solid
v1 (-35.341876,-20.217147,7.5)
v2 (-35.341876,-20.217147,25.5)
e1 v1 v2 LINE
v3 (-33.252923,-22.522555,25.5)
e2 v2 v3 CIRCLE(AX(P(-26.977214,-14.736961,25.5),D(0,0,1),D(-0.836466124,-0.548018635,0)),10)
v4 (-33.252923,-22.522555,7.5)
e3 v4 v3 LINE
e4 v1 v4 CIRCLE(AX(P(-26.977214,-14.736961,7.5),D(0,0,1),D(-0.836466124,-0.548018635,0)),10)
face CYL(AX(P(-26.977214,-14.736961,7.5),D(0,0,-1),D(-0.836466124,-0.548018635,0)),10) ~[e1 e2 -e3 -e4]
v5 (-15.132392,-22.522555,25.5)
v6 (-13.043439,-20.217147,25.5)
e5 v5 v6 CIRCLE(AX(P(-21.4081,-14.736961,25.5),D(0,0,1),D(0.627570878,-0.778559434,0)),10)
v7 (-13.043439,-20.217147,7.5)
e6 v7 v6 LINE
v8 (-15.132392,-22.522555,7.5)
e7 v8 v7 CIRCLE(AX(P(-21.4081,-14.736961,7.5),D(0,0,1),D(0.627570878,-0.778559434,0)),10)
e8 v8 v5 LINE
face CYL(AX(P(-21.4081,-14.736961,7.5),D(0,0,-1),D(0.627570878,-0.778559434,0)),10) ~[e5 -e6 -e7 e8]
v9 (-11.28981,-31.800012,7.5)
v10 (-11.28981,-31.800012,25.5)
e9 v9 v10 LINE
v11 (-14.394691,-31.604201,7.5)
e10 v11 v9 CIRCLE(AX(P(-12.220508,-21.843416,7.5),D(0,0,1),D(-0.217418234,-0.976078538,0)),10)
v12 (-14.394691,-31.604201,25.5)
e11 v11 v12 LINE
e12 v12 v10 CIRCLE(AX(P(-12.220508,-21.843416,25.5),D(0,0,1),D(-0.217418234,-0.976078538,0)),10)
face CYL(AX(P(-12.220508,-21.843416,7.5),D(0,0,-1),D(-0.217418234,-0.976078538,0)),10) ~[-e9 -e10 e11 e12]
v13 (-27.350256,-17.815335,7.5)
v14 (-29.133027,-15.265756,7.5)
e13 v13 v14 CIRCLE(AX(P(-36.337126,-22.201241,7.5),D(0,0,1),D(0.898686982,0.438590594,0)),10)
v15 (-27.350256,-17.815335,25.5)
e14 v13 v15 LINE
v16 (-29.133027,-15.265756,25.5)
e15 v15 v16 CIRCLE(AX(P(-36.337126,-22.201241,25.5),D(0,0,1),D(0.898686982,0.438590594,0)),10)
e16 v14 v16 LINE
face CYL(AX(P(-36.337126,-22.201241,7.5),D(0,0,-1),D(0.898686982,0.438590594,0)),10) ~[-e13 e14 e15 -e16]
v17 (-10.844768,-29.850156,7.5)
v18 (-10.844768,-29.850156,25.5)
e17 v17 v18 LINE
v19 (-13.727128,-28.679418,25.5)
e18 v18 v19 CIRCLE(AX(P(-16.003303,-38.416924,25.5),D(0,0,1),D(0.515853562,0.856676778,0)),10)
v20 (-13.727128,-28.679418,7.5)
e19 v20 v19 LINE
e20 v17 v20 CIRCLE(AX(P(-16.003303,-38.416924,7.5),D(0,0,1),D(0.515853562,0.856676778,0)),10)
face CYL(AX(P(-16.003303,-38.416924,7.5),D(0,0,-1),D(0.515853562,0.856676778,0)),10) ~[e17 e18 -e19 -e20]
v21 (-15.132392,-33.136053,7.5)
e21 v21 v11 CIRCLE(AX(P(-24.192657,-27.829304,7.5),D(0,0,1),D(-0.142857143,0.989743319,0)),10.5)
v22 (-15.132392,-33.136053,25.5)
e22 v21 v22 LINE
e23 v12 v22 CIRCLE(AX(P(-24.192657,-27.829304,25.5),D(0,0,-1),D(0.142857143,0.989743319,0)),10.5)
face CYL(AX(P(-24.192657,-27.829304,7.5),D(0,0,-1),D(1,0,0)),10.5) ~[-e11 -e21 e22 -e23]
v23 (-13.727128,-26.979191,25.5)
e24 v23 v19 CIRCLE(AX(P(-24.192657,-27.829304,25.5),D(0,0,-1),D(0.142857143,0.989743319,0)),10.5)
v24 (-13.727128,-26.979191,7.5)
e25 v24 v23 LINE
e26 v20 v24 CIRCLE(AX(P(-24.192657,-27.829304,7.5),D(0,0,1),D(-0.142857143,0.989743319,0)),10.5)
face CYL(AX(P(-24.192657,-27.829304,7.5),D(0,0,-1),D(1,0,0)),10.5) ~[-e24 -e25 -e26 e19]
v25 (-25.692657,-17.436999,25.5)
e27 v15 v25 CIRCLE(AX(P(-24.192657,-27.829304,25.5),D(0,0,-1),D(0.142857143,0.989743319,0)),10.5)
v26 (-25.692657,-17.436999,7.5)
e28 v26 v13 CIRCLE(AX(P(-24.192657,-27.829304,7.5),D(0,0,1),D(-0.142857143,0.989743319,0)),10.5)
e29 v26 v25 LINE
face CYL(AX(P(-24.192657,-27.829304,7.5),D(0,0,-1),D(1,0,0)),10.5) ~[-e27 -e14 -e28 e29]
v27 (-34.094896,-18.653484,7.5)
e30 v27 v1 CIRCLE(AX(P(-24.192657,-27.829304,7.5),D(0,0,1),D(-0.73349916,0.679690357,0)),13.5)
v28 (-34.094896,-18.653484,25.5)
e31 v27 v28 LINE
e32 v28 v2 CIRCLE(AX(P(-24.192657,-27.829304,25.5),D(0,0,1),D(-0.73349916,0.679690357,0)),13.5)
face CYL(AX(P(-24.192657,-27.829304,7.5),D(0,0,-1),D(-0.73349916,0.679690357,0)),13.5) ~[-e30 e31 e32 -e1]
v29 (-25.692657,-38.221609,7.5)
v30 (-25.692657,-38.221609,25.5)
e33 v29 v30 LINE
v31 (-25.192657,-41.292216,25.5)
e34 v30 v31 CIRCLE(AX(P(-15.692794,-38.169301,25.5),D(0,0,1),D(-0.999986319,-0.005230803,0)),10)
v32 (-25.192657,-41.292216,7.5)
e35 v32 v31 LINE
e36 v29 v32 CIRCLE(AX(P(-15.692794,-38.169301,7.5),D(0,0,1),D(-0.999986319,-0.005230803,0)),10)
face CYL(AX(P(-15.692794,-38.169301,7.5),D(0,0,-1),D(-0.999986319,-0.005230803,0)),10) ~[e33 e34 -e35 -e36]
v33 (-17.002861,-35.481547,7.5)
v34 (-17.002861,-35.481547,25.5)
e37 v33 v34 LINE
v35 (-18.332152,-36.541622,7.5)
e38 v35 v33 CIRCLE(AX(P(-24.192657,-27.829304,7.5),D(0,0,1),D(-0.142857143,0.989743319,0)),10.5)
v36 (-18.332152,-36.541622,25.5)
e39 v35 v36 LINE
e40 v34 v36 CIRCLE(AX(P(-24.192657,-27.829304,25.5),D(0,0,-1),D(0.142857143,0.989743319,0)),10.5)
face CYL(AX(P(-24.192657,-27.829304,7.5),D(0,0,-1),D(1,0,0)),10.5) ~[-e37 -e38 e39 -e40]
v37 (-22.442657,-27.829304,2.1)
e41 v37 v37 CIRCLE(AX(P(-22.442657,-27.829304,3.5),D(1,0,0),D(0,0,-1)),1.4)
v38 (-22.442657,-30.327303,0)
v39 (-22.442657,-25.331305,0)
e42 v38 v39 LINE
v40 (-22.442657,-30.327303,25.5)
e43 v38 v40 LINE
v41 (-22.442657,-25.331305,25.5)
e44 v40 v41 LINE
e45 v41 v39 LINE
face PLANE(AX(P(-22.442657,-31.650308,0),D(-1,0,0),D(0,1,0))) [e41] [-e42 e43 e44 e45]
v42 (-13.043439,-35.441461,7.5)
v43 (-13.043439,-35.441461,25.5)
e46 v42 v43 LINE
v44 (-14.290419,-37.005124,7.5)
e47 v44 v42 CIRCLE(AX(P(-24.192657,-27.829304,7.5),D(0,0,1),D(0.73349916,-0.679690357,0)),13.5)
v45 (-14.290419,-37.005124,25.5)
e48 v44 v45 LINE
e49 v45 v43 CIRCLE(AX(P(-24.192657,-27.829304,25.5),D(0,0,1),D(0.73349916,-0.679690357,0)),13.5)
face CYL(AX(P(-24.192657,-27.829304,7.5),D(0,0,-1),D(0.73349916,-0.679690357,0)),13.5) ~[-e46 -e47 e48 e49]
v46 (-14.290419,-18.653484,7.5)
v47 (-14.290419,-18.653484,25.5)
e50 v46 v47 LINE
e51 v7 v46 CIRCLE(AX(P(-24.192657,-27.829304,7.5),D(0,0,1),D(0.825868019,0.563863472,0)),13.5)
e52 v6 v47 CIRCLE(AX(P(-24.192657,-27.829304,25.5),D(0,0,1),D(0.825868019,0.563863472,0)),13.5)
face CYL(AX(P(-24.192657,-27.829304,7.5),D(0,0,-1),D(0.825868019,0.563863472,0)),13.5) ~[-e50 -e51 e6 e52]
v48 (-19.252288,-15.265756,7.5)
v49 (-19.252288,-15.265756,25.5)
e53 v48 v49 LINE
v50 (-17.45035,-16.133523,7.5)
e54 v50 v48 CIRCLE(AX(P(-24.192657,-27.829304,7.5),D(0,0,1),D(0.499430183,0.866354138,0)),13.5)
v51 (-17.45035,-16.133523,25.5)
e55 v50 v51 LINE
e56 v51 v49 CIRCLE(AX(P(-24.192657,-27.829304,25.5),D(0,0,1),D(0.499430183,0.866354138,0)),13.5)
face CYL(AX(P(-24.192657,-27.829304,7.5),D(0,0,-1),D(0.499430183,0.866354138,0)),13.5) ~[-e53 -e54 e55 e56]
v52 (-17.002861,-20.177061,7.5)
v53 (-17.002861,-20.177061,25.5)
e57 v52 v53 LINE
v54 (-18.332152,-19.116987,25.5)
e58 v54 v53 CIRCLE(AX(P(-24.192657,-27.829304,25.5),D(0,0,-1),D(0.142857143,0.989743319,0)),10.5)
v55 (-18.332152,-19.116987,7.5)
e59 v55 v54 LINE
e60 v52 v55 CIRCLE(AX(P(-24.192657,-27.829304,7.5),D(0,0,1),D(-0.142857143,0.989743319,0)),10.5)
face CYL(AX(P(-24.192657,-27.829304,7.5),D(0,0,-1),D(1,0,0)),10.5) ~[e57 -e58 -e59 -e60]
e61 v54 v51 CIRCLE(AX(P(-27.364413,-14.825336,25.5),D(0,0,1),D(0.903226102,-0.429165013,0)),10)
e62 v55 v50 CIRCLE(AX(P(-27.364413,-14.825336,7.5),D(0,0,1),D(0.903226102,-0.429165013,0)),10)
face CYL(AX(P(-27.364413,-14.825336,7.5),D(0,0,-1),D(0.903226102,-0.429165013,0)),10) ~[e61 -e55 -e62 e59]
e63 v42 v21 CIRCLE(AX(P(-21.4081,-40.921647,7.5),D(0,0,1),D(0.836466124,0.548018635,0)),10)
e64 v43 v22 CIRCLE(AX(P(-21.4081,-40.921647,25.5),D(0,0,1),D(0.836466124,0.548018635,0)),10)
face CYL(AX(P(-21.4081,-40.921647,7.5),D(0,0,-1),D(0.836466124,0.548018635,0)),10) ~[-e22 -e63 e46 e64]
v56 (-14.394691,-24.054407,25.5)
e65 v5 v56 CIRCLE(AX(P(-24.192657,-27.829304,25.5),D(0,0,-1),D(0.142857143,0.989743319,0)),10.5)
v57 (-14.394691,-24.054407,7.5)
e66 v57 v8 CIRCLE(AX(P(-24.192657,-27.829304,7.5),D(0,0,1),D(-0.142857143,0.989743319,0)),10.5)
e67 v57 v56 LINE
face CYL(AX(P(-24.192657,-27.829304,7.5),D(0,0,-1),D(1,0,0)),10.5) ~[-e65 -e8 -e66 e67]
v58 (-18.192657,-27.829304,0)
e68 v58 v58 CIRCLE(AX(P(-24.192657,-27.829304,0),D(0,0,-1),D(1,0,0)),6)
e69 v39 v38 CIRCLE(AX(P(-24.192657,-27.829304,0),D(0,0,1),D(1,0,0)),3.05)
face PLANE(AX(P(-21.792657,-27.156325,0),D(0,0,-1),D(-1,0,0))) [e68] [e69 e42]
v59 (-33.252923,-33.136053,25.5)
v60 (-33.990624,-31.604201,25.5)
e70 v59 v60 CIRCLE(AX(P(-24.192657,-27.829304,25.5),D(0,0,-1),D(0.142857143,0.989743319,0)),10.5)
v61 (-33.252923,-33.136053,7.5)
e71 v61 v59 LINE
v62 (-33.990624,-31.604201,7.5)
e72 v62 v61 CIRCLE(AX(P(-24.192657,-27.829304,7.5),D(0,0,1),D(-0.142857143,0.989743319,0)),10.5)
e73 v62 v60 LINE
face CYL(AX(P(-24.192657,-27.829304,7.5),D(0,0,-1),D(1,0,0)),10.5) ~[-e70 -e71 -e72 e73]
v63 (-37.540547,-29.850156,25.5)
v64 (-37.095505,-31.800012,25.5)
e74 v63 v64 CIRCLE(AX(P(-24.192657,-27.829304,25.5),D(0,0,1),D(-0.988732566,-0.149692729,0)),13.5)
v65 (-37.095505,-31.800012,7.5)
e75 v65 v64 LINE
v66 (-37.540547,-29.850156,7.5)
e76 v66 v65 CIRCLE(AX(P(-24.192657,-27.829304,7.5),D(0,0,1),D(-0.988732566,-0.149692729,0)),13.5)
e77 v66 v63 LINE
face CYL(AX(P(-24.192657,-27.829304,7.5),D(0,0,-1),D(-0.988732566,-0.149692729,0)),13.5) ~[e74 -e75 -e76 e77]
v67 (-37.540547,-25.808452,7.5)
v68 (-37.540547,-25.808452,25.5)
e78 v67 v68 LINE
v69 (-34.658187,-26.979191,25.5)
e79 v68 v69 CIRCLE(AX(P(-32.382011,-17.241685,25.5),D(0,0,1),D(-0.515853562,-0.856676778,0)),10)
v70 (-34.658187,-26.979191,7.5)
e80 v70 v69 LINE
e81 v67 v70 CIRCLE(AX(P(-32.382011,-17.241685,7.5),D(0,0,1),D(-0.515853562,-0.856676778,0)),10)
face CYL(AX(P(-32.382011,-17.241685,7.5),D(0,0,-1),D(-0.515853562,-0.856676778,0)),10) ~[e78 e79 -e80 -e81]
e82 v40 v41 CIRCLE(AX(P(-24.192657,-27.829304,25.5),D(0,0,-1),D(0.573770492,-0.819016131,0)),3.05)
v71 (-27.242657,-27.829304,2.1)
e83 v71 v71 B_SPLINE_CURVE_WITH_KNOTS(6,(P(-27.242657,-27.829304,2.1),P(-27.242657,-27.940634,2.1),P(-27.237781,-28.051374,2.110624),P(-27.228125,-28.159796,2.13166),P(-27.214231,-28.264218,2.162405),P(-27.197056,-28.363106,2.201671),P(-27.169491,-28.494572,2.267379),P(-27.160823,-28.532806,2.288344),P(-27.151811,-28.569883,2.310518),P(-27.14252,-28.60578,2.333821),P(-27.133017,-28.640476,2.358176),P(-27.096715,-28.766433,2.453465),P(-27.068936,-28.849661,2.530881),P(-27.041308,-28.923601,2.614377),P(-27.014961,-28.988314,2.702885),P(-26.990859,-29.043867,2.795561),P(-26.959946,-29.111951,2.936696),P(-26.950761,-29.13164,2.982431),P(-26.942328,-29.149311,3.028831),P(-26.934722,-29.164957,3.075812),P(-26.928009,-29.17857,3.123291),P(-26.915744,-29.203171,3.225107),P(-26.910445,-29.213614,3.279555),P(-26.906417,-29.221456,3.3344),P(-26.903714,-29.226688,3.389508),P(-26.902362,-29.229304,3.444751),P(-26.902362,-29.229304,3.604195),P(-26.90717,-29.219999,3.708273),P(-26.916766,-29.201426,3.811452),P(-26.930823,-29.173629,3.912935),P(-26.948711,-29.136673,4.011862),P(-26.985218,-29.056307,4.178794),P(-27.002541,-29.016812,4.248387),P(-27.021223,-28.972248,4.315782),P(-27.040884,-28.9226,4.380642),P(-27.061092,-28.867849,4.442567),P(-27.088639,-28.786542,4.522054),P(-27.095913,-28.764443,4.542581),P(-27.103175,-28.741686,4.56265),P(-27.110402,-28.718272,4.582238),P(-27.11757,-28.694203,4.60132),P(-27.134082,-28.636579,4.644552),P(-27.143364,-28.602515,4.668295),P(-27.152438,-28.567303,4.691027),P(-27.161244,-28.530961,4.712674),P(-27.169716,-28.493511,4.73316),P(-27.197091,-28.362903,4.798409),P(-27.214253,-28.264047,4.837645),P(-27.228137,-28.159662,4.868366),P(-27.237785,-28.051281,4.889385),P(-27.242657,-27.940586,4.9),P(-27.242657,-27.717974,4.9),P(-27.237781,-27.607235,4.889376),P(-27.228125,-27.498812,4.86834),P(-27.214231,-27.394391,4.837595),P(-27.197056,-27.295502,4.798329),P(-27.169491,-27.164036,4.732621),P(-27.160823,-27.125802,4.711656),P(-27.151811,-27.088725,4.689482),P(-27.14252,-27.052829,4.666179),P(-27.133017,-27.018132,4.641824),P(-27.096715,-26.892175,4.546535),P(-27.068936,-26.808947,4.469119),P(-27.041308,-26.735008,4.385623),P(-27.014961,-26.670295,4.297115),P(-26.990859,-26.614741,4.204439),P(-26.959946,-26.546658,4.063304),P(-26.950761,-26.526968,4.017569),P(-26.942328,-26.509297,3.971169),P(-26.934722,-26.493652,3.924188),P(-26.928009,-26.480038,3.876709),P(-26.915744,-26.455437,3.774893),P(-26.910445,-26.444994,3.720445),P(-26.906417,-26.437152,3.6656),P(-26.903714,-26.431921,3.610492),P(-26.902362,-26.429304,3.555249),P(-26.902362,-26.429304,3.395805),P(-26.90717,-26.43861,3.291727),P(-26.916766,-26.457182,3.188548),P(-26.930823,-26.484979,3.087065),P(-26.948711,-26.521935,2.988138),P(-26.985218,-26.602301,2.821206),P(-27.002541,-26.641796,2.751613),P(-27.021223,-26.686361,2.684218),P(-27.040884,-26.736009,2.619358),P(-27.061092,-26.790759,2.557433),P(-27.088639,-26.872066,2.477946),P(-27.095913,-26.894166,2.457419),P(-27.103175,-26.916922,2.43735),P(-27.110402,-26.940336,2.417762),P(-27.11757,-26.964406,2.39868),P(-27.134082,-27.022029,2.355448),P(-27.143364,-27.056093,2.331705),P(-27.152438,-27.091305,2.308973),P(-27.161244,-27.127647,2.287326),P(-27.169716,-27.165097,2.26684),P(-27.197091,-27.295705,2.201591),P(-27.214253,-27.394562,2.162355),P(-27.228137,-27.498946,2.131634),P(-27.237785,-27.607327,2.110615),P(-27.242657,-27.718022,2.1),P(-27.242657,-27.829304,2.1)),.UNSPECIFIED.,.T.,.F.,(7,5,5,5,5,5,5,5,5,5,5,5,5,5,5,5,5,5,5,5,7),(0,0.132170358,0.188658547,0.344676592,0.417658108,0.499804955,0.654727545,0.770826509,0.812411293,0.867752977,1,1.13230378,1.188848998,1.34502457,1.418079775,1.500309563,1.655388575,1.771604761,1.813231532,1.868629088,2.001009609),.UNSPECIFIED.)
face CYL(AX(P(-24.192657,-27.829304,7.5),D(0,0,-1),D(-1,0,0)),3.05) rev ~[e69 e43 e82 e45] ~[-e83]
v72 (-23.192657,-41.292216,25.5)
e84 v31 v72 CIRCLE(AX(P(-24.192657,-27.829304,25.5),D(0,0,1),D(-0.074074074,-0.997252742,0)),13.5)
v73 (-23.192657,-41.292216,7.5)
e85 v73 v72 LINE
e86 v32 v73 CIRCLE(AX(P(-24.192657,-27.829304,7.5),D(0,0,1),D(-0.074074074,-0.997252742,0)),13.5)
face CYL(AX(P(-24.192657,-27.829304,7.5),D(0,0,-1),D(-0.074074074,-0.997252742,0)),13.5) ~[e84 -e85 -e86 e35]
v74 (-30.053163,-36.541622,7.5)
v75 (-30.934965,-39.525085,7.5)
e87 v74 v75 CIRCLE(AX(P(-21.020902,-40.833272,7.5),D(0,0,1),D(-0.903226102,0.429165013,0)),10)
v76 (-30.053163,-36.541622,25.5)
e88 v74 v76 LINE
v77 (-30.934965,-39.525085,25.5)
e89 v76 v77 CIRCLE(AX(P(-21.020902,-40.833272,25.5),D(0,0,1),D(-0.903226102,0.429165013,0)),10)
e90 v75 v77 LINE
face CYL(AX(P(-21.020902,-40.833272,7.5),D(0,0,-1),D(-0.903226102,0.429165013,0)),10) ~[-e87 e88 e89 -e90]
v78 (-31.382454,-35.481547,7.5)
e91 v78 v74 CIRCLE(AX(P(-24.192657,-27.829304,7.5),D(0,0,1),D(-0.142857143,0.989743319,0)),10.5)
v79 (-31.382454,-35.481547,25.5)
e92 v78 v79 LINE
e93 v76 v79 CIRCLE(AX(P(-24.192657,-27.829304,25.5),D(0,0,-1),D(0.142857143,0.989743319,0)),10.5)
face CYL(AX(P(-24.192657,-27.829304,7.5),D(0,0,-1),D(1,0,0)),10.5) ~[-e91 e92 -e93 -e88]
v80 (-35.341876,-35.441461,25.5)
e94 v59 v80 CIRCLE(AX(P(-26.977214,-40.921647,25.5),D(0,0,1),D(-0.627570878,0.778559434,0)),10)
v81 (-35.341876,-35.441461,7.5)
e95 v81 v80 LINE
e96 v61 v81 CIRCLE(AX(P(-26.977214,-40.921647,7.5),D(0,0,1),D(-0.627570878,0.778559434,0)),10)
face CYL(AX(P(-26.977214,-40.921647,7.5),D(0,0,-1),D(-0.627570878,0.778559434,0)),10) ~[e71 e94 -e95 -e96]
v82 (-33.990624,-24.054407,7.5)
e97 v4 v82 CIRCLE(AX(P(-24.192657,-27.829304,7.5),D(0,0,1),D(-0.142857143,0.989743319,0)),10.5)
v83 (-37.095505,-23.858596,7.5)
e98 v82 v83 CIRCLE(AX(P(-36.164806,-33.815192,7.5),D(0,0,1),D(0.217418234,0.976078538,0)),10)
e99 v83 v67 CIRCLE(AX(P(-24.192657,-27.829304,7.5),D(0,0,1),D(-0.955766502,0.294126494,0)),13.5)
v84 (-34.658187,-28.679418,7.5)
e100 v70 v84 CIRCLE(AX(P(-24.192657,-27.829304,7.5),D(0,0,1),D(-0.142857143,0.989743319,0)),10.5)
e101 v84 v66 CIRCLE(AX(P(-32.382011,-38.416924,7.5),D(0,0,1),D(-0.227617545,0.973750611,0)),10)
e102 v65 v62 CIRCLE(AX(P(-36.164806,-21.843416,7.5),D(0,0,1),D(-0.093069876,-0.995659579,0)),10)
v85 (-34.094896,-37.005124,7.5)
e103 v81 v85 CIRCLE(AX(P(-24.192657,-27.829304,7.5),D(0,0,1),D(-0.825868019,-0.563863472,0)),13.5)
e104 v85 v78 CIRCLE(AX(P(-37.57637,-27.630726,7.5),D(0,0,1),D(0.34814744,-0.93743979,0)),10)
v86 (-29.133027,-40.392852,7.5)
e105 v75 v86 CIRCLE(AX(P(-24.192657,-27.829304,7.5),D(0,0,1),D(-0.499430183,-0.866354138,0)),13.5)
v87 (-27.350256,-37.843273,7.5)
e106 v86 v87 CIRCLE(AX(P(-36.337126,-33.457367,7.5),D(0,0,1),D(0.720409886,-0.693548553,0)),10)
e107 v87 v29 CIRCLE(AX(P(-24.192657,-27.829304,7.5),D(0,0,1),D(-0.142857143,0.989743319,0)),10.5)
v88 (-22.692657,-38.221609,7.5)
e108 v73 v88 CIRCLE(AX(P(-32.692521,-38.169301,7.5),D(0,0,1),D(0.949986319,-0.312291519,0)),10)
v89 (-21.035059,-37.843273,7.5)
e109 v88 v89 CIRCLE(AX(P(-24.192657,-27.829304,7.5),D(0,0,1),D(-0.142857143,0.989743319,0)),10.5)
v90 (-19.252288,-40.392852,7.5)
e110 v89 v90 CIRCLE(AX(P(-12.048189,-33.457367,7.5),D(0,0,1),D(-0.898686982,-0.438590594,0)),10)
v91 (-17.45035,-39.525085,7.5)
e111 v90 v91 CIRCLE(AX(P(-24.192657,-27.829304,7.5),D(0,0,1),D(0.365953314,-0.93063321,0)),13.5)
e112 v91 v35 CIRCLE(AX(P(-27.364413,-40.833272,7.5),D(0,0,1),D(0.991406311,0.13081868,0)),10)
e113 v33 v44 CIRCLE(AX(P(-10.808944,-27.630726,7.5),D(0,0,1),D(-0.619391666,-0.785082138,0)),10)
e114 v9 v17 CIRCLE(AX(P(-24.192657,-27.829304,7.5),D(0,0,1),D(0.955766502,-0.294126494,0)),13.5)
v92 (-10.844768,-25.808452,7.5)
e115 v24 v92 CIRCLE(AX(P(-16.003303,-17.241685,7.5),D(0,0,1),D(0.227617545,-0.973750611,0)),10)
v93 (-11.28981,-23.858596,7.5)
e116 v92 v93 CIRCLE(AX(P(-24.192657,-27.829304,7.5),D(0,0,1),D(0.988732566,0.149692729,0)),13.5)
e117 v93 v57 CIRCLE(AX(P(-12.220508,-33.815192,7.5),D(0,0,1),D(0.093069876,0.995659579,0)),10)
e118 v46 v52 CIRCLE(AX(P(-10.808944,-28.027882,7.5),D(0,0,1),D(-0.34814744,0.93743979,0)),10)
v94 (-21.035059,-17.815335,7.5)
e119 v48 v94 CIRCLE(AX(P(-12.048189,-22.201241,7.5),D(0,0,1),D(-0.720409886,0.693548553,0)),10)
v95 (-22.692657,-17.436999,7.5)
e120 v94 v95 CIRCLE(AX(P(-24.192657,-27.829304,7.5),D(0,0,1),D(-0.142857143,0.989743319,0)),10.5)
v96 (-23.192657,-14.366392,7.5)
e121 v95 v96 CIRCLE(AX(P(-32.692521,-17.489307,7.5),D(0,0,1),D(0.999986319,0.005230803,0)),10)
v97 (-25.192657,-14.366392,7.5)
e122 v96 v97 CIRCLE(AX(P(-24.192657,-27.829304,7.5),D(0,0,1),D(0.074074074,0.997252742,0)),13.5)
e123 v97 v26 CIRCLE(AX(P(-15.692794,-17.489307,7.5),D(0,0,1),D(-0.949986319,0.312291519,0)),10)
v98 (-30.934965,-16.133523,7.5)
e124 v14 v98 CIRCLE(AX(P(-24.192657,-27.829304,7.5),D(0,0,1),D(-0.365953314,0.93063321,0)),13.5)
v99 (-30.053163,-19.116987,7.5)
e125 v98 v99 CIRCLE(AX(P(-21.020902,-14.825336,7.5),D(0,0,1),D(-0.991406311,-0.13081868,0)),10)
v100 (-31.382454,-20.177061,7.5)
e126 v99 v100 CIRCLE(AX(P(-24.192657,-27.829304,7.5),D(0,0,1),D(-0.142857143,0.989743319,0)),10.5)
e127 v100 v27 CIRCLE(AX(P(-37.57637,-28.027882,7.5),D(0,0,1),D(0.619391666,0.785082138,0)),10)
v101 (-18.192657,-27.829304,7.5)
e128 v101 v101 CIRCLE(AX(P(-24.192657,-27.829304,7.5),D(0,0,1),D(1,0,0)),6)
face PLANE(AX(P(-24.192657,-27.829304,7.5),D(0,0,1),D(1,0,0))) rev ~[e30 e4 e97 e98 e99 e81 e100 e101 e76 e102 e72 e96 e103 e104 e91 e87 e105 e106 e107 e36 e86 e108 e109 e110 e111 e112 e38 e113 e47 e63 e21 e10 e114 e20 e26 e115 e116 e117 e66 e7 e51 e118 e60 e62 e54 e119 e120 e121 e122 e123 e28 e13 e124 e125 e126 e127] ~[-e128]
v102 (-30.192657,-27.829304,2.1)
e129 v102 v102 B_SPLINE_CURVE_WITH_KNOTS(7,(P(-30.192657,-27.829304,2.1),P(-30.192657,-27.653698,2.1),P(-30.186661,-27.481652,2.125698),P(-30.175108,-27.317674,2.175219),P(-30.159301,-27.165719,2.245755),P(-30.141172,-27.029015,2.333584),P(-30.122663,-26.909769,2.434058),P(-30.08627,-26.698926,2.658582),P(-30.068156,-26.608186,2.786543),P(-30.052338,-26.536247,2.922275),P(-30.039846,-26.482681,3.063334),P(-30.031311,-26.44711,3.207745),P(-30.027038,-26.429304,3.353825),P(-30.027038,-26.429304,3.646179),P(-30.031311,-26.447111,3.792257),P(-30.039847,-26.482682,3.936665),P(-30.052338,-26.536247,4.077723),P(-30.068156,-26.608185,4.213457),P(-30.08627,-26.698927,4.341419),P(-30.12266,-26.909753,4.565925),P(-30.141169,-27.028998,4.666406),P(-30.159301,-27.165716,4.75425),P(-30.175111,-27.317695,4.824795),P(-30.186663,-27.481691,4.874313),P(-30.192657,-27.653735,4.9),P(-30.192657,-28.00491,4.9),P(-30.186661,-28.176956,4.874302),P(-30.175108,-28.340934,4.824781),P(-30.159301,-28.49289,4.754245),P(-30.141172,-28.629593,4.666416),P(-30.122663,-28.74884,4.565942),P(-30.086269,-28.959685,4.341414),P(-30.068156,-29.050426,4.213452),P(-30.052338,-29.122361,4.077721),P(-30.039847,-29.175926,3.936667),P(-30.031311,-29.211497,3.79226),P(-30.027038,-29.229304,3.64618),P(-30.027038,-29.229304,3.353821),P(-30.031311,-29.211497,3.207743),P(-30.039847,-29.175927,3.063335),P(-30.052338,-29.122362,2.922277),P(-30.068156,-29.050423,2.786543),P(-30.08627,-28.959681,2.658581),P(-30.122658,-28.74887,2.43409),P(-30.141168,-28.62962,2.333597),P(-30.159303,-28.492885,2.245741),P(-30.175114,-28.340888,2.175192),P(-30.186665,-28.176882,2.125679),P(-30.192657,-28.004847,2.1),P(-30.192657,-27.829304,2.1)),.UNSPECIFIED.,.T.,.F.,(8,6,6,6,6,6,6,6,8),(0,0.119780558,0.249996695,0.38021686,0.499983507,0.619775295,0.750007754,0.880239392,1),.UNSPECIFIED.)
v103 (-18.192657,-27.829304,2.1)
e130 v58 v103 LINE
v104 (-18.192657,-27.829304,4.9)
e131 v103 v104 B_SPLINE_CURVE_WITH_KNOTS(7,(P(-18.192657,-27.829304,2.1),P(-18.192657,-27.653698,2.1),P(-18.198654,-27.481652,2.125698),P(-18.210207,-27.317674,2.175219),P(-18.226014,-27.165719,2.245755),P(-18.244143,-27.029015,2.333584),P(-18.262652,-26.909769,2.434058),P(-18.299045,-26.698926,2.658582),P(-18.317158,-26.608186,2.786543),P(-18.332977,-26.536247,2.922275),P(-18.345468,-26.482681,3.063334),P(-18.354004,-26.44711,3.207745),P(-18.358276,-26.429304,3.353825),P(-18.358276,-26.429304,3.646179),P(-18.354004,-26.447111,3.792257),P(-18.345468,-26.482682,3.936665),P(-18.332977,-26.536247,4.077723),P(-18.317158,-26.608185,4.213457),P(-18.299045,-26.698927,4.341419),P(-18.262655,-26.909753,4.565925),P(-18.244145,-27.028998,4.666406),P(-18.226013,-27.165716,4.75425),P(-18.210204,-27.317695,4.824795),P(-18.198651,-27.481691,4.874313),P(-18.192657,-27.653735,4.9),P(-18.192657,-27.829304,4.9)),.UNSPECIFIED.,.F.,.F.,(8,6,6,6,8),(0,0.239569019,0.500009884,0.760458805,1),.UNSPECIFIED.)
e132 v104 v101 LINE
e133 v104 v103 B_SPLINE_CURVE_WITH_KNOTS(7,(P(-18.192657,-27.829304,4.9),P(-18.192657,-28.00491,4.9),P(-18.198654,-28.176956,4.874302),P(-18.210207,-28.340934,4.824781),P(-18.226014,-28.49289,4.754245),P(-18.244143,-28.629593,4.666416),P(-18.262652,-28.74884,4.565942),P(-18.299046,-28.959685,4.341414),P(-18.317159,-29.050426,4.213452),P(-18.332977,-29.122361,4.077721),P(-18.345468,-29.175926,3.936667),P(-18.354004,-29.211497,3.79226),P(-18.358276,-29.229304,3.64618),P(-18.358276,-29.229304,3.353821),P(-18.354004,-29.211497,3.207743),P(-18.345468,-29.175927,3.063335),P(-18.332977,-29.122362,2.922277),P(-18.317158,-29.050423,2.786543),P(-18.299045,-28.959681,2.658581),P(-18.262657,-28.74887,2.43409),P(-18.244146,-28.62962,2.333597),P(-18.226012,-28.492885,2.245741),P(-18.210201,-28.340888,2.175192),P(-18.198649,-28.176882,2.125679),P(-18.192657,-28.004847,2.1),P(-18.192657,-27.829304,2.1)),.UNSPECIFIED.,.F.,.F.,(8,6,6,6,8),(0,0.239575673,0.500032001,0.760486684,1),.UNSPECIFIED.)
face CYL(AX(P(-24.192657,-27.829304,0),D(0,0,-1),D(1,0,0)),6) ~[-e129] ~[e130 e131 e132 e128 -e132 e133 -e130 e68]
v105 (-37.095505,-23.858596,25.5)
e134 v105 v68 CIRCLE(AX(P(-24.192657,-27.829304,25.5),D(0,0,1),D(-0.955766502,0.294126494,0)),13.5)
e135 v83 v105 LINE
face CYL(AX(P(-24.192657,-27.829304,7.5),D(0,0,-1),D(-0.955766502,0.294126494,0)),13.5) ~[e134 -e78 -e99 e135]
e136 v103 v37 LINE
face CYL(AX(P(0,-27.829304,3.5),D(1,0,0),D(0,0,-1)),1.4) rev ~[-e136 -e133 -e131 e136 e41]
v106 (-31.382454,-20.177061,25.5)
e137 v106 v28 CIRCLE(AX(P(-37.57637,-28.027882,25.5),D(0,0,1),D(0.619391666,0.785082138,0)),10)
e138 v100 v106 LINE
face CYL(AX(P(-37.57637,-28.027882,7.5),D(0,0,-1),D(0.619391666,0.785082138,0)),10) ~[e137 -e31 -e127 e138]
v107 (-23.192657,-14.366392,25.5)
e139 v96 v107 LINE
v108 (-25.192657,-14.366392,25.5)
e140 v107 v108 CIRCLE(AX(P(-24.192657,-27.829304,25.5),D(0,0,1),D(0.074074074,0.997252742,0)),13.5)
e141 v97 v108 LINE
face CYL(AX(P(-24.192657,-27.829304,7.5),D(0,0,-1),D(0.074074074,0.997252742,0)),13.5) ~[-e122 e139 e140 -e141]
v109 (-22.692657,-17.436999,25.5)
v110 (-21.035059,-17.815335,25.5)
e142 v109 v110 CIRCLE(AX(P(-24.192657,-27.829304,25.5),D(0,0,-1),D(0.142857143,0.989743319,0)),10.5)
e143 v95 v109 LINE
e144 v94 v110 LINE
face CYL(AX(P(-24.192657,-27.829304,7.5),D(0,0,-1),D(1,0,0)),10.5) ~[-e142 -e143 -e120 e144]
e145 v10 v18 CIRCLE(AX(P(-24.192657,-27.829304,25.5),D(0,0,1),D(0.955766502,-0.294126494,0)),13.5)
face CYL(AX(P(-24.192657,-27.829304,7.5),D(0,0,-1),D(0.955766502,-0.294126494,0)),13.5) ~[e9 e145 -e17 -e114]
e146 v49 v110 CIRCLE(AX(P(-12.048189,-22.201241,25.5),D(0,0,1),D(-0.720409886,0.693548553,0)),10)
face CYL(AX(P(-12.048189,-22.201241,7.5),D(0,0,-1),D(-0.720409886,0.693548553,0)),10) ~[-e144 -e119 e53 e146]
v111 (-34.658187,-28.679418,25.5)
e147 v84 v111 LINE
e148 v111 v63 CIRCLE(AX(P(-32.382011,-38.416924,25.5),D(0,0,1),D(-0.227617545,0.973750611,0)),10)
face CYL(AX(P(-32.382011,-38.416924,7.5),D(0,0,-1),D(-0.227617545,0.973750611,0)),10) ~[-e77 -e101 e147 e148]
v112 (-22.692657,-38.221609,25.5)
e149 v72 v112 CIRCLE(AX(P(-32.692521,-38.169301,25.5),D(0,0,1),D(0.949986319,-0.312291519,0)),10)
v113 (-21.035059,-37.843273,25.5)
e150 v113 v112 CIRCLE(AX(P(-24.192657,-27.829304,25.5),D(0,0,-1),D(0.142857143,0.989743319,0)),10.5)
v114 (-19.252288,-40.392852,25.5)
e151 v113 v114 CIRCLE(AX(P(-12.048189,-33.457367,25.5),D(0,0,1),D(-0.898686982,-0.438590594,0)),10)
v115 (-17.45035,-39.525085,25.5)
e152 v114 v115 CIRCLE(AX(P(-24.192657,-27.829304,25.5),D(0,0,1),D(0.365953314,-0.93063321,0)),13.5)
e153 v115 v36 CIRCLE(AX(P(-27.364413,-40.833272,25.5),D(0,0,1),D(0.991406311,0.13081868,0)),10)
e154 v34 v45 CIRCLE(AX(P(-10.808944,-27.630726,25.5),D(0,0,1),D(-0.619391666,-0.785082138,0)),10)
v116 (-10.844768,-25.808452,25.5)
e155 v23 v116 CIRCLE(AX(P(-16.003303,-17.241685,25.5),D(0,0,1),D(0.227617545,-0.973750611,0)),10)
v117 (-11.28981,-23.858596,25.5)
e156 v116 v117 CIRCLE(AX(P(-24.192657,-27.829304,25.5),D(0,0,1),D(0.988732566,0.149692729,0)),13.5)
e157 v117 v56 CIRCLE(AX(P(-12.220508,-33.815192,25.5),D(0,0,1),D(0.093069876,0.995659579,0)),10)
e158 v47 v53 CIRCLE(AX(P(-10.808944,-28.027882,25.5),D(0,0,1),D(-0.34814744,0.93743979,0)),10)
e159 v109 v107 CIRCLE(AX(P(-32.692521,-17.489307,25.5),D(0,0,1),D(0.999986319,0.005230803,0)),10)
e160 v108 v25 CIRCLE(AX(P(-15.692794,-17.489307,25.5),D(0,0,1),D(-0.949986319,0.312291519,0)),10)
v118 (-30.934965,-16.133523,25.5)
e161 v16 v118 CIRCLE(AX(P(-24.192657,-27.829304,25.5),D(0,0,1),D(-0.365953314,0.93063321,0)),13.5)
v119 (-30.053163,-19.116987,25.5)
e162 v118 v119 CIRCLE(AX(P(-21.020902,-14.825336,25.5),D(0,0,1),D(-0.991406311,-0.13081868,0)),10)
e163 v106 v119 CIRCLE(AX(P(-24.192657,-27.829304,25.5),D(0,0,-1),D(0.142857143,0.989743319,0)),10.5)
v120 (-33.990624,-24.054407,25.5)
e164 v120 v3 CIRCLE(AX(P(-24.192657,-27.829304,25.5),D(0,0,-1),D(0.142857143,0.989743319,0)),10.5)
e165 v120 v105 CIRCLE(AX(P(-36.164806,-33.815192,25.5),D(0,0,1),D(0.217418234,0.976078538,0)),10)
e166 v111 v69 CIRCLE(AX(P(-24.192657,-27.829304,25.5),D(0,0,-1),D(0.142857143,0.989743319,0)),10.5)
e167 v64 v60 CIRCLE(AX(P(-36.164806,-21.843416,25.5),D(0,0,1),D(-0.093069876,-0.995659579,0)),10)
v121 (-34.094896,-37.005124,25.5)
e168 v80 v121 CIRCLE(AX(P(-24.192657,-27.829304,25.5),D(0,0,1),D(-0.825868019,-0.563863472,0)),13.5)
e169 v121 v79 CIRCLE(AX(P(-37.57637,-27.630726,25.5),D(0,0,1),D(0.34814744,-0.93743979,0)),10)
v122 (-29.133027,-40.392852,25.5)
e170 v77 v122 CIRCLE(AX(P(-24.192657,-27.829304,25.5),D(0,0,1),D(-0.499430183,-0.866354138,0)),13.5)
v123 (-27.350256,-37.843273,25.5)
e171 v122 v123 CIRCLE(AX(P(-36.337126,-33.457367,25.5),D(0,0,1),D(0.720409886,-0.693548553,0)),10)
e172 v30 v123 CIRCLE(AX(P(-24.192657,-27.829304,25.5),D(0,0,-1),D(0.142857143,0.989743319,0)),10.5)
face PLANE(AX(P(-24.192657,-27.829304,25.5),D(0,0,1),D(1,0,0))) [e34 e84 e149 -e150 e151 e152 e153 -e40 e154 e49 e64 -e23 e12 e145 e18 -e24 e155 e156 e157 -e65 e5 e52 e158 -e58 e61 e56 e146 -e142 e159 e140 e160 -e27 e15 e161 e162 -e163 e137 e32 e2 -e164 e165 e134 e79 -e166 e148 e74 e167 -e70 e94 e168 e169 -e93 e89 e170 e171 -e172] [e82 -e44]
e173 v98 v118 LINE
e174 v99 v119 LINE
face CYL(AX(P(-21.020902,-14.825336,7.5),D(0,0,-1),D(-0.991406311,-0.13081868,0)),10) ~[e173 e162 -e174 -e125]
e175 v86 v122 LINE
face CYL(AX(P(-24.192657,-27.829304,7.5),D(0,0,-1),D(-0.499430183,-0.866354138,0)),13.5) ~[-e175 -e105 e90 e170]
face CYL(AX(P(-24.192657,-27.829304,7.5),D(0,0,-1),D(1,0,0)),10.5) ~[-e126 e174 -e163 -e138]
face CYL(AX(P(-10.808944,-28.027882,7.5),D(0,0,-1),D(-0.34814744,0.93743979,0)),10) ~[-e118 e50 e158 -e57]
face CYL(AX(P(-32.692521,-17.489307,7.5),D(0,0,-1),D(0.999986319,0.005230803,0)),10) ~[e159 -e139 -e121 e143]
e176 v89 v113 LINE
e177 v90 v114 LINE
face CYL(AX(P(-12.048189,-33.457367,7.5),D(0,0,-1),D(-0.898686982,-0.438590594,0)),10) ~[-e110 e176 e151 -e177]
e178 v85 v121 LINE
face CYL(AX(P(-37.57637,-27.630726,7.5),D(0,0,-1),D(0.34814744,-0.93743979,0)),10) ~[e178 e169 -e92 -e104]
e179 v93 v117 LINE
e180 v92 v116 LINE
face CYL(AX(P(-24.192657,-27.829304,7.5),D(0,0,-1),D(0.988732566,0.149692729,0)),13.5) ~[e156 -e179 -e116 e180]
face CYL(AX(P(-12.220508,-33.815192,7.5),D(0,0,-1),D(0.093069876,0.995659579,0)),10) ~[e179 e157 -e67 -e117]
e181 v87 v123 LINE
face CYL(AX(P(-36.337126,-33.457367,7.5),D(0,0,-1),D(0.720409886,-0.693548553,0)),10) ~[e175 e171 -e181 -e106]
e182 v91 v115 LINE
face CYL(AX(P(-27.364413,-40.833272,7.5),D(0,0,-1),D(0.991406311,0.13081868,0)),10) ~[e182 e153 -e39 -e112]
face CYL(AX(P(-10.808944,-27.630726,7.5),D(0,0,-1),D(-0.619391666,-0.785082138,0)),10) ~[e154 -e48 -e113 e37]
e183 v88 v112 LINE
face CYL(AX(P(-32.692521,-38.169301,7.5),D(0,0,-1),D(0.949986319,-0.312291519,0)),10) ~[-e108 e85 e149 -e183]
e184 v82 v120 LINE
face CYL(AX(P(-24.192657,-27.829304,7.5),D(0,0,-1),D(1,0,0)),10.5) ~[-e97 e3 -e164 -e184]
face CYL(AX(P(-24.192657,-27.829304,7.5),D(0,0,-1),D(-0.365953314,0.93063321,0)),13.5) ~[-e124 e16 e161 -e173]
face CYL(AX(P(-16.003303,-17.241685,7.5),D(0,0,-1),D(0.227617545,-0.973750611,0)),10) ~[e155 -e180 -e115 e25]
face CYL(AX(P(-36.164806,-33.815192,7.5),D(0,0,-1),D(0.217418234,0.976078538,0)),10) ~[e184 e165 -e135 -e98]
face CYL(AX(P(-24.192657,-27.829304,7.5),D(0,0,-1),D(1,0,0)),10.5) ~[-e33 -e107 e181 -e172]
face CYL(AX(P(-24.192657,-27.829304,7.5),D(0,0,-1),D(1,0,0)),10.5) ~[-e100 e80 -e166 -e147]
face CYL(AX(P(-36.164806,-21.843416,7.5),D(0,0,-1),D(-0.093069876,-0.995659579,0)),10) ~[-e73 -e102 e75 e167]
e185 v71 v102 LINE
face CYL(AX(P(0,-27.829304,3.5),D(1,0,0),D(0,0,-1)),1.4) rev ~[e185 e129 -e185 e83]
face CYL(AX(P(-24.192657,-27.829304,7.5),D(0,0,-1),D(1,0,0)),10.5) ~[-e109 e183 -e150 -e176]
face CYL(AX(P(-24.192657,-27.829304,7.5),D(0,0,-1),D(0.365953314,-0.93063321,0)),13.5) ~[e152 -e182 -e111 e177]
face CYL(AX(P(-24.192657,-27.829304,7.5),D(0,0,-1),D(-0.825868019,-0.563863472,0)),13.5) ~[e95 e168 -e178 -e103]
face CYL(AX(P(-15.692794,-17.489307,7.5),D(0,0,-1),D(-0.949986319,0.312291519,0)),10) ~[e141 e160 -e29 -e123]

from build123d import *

# Parameters (mm, degrees)
SKETCH1_R               = 6
SKETCH1_R_2             = 3.05
BOSS_EXTRUDE1_DEPTH     = 7.5
SKETCH2_R               = 10.5
BOSS_EXTRUDE3_DEPTH     = 18
BOSS_EXTRUDE4_DEPTH     = 18
CIRPATTERN1_COUNT       = 14
SKETCH3_R               = 3.05
CUT_EXTRUDE1_DEPTH      = 19
SKETCH5_W               = 1.3
SKETCH5_H               = 8.98796618
BOSS_EXTRUDE5_DEPTH     = 25.5
SKETCH4_R               = 1.4
CUT_EXTRUDE2_DEPTH      = 1
CUT_EXTRUDE2_DEPTH_BACK = 38.540546983


with BuildPart() as part:
    # Sketch1 → Boss-Extrude1 (new body)
    with BuildSketch(Plane.XY):
        with Locations((-24.192657344, -27.82930415)):
            Circle(SKETCH1_R)
        with Locations((-24.192657344, -27.82930415)):
            Circle(SKETCH1_R_2, mode=Mode.SUBTRACT)
    extrude(amount=BOSS_EXTRUDE1_DEPTH)

    # Sketch2 → Boss-Extrude3 (add)
    with BuildSketch(Plane.XY.offset(7.5)):
        with Locations((-24.192657344, -27.82930415)):
            Circle(SKETCH2_R)
    extrude(amount=BOSS_EXTRUDE3_DEPTH)

    # Sketch2<4> → Boss-Extrude4 (add)
    with BuildSketch(Plane.XY.offset(7.5)):
        with BuildLine():
            ThreePointArc((-22.692657344, -17.436999304), (-22.822516009, -15.882132595), (-23.192657344, -14.366392132))
            ThreePointArc((-23.192657344, -14.366392132), (-24.192657344, -14.32930415), (-25.192657344, -14.366392132))
            ThreePointArc((-25.192657344, -14.366392132), (-25.562798679, -15.882132595), (-25.692657344, -17.436999304))
            ThreePointArc((-25.692657344, -17.436999304), (-24.192657344, -17.32930415), (-22.692657344, -17.436999304))
        make_face()
    boss_extrude4 = extrude(amount=BOSS_EXTRUDE4_DEPTH)

    # CirPattern1: Boss-Extrude4 ×14 about axis
    cirpattern1_axis = Axis((-24.192657344, -27.82930415, 0), (0, 0, 1))
    for i in range(1, CIRPATTERN1_COUNT):
        add(boss_extrude4.rotate(cirpattern1_axis, i * 360 / CIRPATTERN1_COUNT))

    # Sketch3 → Cut-Extrude1 (cut, through all)
    with BuildSketch(Plane(origin=(0, 0, 7.5), x_dir=(-1, 0, 0), z_dir=(0, 0, -1))):
        with Locations((24.192657344, -27.82930415)):
            Circle(SKETCH3_R)
    extrude(amount=-CUT_EXTRUDE1_DEPTH, mode=Mode.SUBTRACT)

    # Sketch5 → Boss-Extrude5 (add, through all)
    with BuildSketch(Plane(origin=(0, 0, 0), x_dir=(-1, 0, 0), z_dir=(0, 0, -1))):
        with Locations((21.792657344, -27.156324883)):
            Rectangle(SKETCH5_W, SKETCH5_H)
    extrude(amount=-BOSS_EXTRUDE5_DEPTH)

    # Sketch4 → Cut-Extrude2 (cut, two sides)
    with BuildSketch(Plane(origin=(0, 0, 0), x_dir=(0, 0, -1), z_dir=(1, 0, 0))) as cut_extrude2_sk:
        with Locations((-3.5, -27.82930415)):
            Circle(SKETCH4_R)
    extrude(amount=CUT_EXTRUDE2_DEPTH, mode=Mode.SUBTRACT)
    extrude(cut_extrude2_sk.sketch, amount=-CUT_EXTRUDE2_DEPTH_BACK, mode=Mode.SUBTRACT)


solid = part.part
